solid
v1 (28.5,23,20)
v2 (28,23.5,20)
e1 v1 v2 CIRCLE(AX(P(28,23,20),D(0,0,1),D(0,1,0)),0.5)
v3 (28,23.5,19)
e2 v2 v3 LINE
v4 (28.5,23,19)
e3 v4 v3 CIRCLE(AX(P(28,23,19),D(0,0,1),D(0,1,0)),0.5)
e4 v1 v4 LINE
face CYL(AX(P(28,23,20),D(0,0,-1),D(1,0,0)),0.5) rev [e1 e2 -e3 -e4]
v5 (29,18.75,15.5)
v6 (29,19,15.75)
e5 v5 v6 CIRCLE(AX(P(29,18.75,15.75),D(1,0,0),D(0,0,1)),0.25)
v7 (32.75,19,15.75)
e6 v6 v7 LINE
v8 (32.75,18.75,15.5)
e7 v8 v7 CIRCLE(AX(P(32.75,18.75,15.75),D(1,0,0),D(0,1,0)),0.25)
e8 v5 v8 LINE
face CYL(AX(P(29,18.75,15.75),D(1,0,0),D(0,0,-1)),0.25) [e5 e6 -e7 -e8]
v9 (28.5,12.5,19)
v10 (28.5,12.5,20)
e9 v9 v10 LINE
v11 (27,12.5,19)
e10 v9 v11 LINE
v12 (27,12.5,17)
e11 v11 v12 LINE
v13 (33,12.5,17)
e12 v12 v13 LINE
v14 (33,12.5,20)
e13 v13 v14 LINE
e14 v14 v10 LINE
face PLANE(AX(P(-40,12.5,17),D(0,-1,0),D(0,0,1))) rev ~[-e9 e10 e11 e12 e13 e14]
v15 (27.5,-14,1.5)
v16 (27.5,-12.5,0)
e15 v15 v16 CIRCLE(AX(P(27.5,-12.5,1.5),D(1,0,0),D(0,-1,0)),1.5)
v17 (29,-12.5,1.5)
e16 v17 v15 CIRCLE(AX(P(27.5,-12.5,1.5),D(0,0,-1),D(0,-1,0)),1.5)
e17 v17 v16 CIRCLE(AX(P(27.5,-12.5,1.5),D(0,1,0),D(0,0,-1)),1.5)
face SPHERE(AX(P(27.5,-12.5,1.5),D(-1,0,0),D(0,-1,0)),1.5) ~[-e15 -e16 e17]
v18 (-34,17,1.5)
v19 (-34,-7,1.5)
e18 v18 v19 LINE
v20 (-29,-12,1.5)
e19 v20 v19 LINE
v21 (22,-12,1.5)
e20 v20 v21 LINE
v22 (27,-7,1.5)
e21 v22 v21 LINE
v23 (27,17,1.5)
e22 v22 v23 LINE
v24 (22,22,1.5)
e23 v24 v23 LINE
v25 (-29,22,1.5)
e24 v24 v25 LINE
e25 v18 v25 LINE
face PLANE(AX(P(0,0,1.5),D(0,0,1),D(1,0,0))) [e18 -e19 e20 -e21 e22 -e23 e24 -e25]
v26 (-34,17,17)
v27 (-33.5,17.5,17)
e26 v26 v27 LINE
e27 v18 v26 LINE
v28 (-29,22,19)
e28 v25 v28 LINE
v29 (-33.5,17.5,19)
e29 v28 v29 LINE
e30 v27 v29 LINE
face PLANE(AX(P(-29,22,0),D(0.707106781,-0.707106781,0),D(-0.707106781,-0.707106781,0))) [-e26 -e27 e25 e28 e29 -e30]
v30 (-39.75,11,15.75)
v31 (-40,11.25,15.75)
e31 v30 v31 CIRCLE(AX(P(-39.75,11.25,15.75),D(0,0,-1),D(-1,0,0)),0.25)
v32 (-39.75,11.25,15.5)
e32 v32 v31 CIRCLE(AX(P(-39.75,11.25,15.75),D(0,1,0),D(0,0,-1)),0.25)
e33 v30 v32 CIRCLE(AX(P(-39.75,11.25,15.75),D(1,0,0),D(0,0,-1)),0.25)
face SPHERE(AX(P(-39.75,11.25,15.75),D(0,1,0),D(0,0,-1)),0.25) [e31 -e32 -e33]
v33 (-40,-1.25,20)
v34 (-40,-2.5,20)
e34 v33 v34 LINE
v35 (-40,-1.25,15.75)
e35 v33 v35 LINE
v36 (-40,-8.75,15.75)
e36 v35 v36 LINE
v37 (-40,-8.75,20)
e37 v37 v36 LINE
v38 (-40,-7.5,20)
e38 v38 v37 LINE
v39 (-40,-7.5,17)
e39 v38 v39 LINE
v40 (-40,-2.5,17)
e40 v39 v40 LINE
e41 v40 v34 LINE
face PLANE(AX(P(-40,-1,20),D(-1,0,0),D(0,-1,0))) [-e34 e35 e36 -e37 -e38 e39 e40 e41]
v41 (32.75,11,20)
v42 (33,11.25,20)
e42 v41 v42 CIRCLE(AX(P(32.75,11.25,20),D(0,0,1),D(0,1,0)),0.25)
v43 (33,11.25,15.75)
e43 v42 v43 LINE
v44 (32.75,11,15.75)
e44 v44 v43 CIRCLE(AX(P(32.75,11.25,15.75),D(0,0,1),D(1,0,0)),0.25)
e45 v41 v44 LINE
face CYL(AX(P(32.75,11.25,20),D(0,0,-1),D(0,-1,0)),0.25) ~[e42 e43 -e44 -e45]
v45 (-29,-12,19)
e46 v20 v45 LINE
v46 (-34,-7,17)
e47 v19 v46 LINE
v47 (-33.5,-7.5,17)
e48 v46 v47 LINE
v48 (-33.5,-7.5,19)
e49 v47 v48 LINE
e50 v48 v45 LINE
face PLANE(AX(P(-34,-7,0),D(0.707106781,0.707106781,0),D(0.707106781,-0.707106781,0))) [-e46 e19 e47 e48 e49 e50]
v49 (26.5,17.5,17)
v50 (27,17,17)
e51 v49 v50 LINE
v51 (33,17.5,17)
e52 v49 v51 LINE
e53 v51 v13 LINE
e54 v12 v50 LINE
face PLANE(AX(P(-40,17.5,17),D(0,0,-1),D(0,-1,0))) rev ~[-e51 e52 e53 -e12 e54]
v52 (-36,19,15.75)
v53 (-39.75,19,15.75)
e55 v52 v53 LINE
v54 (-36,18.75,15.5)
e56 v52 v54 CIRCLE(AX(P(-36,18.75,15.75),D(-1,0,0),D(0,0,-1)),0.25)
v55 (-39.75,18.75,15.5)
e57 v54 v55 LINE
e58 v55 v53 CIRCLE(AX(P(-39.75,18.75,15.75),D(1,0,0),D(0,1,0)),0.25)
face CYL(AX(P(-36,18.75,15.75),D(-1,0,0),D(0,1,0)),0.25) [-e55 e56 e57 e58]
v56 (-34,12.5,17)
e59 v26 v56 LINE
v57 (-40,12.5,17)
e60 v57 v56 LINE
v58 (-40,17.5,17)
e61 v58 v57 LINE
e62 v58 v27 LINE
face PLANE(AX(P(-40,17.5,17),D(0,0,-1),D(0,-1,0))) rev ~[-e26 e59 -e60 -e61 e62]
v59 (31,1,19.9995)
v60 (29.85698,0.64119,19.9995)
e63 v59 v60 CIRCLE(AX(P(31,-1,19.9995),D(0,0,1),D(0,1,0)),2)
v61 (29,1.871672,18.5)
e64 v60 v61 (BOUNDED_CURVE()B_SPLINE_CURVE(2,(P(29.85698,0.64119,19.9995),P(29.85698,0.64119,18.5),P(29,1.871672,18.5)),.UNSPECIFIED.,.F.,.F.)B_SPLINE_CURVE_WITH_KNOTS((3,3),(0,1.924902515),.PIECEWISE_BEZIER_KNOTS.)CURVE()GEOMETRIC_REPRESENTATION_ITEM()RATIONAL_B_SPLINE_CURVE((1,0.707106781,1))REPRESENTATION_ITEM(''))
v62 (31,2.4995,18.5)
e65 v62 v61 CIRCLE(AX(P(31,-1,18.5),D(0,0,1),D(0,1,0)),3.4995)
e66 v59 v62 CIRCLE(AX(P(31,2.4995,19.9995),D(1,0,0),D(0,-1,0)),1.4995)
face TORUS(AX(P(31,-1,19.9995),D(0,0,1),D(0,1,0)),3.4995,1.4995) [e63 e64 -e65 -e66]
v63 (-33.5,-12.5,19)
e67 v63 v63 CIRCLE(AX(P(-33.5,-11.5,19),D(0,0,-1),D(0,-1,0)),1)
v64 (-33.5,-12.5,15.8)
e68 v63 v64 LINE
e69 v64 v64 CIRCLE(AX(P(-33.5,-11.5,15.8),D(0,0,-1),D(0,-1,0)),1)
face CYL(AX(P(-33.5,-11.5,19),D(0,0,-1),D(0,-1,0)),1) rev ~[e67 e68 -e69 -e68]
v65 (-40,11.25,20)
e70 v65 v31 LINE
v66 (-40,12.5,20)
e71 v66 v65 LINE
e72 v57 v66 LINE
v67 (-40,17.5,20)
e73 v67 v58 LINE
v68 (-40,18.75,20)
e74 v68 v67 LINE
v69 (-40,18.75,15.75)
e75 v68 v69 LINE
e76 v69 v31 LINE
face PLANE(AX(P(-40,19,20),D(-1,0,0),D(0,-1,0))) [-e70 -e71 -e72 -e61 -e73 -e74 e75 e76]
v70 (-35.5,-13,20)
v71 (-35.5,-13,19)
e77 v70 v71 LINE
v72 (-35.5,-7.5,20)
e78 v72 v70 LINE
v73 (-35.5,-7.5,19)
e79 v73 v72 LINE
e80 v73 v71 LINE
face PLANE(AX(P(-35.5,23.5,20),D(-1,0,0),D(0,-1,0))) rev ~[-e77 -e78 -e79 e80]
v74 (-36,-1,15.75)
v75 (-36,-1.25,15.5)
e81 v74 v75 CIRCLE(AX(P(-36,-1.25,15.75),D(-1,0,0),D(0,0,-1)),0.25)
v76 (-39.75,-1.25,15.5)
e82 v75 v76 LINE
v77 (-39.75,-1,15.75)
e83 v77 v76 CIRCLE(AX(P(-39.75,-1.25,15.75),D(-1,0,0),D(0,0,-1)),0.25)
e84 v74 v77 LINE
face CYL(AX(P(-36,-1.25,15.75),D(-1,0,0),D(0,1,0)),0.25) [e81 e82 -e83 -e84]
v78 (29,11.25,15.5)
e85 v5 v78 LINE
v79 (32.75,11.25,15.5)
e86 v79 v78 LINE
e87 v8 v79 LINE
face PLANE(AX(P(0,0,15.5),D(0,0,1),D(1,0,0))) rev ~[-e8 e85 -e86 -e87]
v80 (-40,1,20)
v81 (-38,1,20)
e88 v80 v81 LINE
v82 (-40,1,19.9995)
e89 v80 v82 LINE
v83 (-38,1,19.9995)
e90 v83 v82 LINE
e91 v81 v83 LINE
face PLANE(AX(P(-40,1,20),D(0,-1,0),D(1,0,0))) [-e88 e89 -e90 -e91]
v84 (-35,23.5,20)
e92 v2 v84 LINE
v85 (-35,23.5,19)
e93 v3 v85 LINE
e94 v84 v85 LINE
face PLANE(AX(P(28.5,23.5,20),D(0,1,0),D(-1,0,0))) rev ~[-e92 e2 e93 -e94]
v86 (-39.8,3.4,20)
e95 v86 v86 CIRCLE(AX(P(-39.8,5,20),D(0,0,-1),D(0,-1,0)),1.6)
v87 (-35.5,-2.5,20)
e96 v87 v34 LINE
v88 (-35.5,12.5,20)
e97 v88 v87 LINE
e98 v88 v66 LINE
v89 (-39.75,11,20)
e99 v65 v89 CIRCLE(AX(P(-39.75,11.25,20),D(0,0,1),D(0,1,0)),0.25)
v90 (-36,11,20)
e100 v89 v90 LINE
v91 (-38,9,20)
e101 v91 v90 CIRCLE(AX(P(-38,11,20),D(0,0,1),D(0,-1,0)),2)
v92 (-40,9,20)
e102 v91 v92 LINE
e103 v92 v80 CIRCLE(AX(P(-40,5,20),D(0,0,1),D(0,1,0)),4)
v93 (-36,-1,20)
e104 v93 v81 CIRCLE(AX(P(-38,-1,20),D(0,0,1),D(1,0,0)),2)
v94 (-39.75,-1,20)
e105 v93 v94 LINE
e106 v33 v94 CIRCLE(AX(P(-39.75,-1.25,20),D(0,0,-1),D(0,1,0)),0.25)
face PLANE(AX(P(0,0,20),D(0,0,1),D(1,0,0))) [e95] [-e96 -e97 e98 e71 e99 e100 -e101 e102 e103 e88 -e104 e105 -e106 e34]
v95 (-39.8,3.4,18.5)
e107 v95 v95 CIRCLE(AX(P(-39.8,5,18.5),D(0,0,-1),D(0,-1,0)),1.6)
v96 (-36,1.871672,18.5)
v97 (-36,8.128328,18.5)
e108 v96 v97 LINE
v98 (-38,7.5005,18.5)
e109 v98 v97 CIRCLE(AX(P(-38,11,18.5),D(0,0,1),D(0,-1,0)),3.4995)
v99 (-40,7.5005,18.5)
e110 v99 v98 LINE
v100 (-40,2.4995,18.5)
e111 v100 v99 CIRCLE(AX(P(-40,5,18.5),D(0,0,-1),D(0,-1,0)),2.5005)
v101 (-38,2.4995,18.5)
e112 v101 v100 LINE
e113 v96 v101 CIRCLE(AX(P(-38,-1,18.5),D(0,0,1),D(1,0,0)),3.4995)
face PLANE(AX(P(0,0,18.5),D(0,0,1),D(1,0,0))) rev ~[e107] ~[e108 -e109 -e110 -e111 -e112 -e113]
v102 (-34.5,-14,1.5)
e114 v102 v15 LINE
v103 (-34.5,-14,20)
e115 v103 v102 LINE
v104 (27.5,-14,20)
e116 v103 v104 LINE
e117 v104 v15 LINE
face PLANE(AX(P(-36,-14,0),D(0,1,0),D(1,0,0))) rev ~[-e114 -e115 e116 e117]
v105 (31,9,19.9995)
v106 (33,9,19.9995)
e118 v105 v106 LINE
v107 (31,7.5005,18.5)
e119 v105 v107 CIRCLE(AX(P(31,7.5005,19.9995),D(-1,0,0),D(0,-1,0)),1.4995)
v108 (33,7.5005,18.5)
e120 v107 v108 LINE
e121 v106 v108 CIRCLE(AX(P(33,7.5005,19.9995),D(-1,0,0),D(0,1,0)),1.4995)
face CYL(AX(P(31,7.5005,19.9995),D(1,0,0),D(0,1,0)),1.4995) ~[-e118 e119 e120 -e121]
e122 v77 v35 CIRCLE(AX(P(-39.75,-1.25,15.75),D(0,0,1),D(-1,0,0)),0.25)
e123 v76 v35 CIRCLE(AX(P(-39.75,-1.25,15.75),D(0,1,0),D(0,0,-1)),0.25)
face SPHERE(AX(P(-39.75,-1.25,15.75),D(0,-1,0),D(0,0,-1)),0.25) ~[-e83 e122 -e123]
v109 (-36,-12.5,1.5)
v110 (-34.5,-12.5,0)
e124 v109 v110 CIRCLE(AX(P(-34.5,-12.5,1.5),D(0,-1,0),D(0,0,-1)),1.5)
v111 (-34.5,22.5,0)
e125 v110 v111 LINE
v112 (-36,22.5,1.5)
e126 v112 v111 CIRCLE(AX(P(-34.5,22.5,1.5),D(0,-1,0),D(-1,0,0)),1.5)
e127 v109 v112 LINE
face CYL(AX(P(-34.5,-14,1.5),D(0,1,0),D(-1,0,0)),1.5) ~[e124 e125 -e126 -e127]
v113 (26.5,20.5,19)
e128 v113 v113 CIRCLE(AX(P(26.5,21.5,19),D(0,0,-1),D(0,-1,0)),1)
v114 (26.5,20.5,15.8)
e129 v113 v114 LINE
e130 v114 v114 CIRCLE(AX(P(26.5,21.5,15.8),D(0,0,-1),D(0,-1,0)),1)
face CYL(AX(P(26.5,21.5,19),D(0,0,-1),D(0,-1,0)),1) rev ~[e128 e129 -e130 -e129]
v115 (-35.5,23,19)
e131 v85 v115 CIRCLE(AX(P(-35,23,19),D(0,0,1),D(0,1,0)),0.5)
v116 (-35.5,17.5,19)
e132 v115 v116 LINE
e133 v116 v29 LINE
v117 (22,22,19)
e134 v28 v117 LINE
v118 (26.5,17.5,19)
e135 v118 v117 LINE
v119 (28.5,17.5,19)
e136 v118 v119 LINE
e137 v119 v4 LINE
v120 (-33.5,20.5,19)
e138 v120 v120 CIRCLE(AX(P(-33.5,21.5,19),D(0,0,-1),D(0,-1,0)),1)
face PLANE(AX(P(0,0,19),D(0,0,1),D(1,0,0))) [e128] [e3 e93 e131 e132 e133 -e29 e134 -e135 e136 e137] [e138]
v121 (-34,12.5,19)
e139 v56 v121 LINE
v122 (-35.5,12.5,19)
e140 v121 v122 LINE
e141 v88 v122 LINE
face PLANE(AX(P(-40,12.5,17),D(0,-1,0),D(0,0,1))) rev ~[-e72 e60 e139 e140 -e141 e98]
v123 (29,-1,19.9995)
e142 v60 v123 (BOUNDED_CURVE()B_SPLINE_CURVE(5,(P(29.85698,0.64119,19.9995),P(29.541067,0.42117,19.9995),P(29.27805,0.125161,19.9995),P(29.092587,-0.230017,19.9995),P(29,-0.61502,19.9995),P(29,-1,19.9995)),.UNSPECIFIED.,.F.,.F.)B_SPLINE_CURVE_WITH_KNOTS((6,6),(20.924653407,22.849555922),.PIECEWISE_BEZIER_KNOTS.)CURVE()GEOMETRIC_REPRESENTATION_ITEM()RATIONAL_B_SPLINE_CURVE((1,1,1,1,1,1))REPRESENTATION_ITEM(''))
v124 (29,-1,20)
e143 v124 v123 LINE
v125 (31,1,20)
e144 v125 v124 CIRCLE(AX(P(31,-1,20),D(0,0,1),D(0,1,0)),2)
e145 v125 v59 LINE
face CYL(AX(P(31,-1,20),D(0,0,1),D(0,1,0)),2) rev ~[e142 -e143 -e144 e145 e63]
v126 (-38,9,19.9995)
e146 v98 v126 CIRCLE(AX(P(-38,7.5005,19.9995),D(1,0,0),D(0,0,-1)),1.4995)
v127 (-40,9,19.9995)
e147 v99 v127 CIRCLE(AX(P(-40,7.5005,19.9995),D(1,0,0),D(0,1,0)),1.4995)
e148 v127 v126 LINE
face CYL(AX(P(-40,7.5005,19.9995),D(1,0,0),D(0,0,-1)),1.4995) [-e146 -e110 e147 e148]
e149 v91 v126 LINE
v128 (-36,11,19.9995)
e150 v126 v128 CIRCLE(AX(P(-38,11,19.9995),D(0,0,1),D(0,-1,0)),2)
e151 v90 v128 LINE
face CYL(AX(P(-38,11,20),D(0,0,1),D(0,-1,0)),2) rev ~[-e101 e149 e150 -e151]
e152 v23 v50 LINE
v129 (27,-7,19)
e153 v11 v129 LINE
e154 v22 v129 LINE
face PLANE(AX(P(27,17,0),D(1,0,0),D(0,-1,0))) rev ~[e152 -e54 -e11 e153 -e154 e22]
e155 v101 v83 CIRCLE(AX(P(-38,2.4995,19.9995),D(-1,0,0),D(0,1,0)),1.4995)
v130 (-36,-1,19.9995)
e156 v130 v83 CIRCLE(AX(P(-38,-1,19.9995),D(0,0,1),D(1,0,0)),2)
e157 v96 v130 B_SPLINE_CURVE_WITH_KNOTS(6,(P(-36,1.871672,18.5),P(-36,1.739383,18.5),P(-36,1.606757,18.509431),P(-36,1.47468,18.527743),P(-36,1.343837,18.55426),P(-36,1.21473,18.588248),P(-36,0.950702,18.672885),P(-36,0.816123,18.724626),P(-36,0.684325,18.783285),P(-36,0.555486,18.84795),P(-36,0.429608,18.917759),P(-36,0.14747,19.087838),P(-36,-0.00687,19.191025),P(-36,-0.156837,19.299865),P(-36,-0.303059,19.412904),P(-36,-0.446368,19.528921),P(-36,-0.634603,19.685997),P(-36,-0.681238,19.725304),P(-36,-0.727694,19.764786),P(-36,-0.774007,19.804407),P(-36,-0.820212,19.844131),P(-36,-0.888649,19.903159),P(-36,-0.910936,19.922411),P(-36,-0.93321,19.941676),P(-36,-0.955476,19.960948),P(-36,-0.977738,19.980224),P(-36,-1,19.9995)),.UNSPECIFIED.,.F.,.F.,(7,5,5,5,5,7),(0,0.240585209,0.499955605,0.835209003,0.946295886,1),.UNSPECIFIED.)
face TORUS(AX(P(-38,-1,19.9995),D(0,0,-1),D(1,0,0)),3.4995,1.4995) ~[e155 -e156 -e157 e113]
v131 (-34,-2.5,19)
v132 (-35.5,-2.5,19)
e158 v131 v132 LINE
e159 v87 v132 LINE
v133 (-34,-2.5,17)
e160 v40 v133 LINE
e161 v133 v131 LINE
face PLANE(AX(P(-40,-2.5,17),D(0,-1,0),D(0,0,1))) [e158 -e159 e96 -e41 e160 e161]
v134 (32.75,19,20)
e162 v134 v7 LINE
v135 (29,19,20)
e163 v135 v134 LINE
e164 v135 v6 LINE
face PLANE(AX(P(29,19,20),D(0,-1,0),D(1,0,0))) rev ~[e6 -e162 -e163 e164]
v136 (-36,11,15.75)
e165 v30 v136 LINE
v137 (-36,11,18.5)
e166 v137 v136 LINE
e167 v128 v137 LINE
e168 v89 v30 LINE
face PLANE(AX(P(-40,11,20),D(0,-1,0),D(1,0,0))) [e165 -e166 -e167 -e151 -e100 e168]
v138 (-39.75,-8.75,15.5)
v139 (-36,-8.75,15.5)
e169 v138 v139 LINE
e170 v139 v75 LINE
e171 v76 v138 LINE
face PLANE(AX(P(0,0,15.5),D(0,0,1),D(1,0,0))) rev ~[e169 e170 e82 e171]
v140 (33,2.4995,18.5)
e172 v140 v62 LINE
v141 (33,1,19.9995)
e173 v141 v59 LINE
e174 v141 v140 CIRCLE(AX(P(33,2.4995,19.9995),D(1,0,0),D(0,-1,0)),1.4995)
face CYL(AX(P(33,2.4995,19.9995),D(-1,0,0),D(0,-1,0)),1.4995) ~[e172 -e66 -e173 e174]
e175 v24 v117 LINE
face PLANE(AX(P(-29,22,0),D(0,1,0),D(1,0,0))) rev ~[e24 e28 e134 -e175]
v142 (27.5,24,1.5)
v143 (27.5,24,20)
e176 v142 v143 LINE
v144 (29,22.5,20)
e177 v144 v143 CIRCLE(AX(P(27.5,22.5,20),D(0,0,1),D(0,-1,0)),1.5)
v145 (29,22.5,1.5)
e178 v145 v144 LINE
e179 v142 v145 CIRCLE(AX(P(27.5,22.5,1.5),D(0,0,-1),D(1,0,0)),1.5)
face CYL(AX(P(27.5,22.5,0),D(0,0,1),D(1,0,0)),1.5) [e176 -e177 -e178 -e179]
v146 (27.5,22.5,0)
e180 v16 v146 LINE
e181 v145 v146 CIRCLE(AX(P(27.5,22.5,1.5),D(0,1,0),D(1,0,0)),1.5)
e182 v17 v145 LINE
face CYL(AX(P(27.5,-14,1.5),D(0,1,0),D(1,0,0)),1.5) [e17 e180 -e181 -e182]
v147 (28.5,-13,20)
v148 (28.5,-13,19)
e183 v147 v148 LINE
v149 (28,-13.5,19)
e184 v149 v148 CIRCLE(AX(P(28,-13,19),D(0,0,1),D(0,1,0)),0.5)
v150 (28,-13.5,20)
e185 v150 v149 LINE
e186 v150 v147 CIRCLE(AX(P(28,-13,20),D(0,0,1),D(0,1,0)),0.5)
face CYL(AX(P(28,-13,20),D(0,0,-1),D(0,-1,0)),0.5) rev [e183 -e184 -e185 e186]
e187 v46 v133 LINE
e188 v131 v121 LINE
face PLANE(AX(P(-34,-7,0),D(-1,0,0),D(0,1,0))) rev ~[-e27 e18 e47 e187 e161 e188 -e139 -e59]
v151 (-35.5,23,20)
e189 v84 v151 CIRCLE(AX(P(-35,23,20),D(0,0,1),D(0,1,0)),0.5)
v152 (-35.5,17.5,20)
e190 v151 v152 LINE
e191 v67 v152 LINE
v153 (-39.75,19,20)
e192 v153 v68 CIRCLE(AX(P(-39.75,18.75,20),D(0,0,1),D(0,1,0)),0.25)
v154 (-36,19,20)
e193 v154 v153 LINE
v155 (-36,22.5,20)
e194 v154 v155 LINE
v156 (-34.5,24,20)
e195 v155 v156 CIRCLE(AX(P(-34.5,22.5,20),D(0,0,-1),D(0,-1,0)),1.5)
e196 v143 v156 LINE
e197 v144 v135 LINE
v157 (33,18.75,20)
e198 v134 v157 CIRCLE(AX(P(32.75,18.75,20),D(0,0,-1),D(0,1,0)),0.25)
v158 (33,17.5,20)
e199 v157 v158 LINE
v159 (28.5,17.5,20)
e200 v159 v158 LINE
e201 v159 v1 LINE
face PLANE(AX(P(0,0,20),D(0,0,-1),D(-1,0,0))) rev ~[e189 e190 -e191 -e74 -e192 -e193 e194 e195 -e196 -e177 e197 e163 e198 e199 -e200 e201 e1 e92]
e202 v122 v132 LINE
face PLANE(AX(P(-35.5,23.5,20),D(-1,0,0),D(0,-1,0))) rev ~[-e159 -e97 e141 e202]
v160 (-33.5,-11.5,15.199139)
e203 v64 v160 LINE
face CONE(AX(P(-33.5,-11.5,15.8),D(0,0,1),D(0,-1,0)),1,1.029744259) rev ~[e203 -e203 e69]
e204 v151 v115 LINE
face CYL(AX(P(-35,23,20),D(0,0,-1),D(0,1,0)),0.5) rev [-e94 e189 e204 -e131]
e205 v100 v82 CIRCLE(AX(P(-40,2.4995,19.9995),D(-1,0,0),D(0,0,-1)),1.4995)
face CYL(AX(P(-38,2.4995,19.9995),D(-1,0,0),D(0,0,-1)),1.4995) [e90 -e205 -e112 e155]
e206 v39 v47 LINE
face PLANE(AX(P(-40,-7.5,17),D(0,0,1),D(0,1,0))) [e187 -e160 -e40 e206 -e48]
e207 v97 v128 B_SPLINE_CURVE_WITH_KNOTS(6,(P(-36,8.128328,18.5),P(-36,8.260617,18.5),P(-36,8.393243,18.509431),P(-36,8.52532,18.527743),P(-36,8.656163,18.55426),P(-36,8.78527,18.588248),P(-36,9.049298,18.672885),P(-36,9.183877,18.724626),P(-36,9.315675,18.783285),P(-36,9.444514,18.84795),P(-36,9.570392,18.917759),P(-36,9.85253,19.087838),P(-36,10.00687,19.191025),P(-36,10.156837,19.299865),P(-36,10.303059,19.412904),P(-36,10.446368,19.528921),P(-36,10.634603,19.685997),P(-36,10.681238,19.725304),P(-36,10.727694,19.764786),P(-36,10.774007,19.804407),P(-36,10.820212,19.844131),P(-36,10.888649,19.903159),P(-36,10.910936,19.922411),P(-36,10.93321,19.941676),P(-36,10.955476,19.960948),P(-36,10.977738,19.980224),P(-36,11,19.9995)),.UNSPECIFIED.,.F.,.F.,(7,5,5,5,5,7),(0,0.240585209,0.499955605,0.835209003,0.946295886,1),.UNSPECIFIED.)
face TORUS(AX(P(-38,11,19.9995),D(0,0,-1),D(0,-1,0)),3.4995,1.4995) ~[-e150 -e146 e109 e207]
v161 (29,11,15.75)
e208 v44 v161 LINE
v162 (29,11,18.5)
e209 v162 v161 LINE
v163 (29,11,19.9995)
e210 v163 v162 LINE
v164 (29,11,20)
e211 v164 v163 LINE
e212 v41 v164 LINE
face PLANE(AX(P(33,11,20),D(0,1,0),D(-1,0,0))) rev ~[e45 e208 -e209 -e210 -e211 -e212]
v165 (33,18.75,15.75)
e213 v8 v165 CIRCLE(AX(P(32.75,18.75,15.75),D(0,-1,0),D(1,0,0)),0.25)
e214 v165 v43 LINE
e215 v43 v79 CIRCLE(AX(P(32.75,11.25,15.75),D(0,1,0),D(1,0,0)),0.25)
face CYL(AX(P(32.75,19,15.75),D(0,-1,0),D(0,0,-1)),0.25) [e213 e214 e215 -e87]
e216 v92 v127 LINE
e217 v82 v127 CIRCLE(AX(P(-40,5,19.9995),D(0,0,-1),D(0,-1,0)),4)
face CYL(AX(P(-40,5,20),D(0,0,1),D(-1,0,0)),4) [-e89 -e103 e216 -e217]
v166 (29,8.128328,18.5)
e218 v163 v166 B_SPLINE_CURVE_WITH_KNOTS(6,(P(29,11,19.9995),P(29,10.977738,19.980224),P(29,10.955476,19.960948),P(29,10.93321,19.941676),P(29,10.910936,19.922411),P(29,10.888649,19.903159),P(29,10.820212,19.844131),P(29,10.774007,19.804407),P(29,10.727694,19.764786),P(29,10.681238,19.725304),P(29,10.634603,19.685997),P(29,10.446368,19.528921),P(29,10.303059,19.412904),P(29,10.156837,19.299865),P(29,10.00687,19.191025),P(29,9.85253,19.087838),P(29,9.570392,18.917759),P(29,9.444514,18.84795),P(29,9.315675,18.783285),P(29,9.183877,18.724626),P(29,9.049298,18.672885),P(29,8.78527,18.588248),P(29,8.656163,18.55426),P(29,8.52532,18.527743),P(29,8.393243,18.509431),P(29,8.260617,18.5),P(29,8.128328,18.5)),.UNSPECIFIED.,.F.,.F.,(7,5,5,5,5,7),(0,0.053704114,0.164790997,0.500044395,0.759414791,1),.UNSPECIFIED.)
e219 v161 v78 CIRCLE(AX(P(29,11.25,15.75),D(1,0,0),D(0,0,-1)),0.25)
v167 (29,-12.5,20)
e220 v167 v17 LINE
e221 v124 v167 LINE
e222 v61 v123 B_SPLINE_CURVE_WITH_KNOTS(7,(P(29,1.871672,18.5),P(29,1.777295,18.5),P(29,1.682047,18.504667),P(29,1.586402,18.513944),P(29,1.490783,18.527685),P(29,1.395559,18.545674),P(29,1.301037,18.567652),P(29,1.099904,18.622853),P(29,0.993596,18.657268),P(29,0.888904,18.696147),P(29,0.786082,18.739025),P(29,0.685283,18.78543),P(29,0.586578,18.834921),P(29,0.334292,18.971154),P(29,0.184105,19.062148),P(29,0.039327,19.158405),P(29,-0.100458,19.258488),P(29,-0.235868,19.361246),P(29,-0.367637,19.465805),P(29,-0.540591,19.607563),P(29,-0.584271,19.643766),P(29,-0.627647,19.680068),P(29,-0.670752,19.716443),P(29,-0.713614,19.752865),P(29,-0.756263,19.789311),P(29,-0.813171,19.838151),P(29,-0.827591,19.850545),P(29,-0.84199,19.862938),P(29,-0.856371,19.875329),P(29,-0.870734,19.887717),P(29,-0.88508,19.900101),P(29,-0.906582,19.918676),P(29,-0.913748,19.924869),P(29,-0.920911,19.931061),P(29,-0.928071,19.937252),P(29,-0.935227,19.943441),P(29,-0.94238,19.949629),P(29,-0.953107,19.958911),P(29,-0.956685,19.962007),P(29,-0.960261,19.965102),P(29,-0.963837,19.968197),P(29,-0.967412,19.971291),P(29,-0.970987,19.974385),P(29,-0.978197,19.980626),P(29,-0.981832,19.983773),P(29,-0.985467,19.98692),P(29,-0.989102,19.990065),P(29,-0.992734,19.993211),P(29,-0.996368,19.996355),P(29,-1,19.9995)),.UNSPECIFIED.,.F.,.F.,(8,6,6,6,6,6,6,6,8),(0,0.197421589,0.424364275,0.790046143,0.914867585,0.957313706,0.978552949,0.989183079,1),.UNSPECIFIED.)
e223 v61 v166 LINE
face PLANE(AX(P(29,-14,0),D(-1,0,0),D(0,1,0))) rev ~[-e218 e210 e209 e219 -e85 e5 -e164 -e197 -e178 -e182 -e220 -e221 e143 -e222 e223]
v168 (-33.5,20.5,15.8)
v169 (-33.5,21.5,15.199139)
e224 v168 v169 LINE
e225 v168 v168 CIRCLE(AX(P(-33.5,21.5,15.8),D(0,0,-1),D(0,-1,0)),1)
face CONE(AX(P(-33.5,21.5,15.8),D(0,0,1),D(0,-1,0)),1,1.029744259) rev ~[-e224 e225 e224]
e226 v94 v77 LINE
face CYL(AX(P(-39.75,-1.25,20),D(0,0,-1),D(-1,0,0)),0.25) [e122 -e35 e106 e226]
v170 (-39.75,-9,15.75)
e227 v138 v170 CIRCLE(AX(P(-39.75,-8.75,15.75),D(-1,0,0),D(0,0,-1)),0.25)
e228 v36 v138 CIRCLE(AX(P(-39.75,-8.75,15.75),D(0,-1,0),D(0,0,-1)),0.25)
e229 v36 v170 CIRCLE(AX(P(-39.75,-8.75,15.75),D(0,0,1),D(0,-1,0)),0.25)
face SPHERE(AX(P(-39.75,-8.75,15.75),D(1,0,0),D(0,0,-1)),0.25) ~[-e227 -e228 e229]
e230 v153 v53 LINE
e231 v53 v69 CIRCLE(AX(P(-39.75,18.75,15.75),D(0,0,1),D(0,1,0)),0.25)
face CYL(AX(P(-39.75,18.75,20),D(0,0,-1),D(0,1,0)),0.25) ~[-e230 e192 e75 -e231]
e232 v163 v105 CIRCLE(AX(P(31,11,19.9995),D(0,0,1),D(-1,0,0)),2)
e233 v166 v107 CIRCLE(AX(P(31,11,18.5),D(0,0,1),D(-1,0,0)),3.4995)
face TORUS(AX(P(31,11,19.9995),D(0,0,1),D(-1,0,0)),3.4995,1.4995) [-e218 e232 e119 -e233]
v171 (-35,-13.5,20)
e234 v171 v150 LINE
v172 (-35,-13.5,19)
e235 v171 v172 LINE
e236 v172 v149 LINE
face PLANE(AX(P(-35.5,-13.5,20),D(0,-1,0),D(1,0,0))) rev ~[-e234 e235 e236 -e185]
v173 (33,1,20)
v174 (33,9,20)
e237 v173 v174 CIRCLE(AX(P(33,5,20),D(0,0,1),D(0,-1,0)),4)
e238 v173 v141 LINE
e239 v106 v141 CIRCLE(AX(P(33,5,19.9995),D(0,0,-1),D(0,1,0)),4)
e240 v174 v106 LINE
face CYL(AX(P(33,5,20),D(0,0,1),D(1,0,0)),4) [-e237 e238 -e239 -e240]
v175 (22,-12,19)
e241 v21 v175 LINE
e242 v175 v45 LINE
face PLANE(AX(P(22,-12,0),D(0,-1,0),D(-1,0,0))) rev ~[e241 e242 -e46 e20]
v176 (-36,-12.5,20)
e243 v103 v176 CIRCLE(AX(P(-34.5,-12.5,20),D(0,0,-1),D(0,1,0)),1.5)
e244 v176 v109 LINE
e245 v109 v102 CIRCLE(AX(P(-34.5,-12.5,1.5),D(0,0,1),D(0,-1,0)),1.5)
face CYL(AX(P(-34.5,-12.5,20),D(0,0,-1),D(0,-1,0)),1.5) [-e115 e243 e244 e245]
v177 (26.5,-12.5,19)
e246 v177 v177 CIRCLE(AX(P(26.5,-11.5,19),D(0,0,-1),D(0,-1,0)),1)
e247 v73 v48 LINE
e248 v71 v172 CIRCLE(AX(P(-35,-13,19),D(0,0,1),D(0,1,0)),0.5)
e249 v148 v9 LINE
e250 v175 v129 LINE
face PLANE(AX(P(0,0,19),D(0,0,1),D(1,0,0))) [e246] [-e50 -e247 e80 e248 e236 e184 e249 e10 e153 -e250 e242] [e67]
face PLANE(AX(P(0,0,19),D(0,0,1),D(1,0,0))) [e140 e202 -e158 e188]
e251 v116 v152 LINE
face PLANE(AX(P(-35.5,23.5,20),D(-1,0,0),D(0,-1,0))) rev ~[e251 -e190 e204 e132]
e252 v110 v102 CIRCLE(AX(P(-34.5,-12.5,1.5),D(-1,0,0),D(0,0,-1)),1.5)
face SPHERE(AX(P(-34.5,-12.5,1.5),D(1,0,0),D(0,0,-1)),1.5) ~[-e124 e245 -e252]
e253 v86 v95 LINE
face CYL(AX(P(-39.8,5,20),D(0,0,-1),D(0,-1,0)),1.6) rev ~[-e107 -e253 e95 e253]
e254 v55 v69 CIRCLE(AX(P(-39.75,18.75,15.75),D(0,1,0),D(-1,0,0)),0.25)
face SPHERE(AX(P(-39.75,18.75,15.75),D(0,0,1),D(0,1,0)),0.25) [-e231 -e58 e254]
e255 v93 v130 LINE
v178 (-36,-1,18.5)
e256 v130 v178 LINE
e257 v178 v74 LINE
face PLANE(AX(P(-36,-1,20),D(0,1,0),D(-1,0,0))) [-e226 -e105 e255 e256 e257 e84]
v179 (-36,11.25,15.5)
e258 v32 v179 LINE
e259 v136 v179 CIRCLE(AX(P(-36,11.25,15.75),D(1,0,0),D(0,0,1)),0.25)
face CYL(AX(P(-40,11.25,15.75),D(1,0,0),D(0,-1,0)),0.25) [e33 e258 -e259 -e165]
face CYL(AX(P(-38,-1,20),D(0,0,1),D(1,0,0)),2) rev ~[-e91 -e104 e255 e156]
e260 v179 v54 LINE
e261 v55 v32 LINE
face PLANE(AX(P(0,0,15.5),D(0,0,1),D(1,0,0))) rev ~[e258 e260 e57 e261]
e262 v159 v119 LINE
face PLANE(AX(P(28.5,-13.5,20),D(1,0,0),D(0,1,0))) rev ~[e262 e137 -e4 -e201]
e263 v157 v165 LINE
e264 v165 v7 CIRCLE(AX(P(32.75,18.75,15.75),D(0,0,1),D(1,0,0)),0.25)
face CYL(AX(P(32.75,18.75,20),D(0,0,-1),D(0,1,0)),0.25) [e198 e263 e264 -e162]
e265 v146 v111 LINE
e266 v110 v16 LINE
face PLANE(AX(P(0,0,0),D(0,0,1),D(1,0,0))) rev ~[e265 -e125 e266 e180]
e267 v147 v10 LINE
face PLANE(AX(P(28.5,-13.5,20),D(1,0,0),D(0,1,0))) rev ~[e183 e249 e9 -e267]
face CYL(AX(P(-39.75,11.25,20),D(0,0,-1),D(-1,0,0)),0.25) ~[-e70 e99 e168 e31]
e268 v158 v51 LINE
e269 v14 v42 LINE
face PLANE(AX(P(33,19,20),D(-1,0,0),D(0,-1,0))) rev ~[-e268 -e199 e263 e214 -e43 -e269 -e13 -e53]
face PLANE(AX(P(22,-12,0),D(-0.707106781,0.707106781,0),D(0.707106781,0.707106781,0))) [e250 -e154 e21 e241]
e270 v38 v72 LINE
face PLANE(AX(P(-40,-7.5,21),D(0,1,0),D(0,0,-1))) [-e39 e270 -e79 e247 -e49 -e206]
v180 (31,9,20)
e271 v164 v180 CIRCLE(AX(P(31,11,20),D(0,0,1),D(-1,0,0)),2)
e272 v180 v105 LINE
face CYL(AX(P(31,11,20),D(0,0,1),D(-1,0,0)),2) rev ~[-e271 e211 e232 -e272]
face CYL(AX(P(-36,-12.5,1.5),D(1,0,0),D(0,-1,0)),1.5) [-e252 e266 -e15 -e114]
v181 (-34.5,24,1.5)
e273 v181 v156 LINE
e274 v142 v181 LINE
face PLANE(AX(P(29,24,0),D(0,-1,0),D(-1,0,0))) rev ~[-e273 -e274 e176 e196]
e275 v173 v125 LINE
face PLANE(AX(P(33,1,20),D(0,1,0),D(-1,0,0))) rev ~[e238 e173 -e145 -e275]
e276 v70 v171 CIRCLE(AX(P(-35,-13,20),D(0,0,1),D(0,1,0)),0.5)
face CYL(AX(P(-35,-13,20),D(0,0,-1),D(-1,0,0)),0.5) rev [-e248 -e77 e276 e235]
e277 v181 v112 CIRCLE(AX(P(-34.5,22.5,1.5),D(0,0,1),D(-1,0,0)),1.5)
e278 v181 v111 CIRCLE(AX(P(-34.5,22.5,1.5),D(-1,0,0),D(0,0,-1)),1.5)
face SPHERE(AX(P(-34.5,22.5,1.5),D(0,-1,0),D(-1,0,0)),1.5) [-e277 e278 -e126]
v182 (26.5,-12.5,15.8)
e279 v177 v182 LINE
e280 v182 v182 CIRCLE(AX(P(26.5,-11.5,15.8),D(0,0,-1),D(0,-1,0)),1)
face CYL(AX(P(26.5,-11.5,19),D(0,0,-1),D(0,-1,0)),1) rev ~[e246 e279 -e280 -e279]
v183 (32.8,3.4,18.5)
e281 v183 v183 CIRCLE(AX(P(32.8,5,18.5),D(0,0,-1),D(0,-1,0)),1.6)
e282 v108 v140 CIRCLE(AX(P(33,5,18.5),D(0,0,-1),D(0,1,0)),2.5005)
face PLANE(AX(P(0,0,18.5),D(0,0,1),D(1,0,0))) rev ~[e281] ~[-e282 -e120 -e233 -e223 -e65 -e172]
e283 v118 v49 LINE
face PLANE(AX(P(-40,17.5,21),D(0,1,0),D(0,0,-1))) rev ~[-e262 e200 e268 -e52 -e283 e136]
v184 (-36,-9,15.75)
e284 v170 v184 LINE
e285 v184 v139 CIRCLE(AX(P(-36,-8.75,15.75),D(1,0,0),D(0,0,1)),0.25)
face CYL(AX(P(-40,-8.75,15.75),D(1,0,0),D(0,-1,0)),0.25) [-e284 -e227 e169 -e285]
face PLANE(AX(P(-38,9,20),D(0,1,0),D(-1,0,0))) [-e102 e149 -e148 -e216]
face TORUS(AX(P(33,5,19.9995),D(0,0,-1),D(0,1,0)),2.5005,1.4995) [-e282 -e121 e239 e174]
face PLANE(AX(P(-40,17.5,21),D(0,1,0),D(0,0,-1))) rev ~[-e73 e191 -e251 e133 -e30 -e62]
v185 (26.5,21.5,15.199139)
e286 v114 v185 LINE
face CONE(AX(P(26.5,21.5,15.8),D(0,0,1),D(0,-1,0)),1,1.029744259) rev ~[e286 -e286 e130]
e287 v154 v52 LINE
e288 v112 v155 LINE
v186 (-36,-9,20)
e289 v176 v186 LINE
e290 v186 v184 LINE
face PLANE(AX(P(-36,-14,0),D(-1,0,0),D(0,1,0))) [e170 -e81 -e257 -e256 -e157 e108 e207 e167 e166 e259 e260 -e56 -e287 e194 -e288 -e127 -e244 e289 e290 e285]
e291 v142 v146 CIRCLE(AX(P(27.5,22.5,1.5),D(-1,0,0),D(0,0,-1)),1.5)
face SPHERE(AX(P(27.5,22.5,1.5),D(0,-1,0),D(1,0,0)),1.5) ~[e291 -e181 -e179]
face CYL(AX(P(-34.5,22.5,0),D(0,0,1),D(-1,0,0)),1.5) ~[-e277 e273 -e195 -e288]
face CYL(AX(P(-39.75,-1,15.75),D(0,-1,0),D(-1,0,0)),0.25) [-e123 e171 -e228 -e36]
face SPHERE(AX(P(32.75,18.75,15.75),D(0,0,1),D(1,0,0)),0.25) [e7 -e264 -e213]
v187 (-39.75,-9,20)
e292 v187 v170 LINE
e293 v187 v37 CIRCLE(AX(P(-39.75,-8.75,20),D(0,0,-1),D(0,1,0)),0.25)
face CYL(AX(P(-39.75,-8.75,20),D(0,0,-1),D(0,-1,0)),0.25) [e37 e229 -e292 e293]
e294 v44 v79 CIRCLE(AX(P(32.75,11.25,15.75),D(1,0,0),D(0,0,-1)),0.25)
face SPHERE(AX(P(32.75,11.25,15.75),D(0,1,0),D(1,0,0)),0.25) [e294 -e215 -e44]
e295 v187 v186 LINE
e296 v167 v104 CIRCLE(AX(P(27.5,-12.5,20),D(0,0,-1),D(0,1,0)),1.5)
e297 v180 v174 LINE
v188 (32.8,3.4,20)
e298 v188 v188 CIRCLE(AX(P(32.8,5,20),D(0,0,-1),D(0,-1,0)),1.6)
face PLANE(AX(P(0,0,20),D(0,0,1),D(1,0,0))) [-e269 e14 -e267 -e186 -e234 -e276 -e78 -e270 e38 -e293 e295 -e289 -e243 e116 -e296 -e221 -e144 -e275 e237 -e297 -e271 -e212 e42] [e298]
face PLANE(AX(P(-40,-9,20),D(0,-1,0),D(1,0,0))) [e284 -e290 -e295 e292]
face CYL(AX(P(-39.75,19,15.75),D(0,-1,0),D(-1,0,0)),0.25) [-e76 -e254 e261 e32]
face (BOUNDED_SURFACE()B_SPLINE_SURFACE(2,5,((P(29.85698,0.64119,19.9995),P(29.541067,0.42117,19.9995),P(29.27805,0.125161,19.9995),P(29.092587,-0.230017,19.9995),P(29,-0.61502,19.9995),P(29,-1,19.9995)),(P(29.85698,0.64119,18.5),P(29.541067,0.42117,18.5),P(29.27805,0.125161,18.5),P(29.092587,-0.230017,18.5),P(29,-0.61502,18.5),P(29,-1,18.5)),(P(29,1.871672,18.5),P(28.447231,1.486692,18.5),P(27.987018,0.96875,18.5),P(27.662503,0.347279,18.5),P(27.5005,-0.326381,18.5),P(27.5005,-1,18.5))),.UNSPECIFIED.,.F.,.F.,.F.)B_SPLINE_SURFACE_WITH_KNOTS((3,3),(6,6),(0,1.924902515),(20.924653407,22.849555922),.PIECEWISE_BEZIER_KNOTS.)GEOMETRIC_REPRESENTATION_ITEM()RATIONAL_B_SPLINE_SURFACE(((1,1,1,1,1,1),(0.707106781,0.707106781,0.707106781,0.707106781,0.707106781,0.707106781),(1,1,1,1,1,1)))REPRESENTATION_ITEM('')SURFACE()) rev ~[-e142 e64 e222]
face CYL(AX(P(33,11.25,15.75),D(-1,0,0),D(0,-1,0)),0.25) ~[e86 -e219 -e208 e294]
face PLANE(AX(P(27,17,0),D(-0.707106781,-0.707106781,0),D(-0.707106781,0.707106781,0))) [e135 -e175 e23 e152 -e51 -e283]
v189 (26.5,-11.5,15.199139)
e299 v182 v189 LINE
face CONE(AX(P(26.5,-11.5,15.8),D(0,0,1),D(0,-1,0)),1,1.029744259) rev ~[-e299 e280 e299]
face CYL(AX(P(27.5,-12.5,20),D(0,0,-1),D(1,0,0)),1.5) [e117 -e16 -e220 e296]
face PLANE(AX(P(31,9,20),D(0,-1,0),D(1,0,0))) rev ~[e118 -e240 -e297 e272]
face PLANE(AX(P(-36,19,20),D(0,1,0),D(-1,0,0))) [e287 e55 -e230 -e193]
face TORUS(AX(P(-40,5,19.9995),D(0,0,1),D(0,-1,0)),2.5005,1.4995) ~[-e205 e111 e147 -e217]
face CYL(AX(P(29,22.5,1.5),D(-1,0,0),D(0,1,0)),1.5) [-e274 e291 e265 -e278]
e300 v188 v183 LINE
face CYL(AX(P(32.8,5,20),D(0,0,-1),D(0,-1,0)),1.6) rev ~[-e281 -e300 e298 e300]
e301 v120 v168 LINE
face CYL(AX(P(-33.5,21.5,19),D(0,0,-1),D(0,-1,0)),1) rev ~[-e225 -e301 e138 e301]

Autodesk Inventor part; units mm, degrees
ref_plane "YZ Plane" through (0, 0, 0) normal (1, 0, 0) x (0, 1, 0)
ref_plane "XZ Plane" through (0, 0, 0) normal (0, 1, 0) x (-1, 0, 0)
ref_plane "XY Plane" through (0, 0, 0) normal (0, 0, 1) x (1, 0, 0)
sketch "Эскиз1" plane through (0, 0, 0) normal (0, 0, 1) x (1, 0, 0)
  line L0 (29, 24) -> (-36, 24)
  line L1 (-36, -14) -> (29, -14)
  line L2 (29, -14) -> (29, 24)
  line L3 (-36, -14) -> (-36, 24)
  dimension "d0" = 65
  dimension "d1" = 65
extrude "Выдавливание1" add sketch "Эскиз1" along normal blind 1.5
sketch "Эскиз7" plane through (0, 0, 0) normal (0, 0, -1) x (-1, 0, 0)
  line L0 (-29, 24) -> (36, 24) projected
  line L1 (36, -14) -> (-29, -14) projected
  line L2 (-29, -14) -> (36, -14)
  line L3 (36, -14) -> (36, 24)
  line L4 (36, 24) -> (-29, 24)
  line L5 (-29, 24) -> (-29, -14)
  line L6 (-22, -12) -> (29, -12)
  line L7 (34, -7) -> (34, 17)
  line L8 (29, 22) -> (-22, 22)
  line L9 (-27, 17) -> (-27, -7)
  line L10 (-27, 17) -> (-22, 22)
  line L11 (29, 22) -> (34, 17)
  line L12 (34, -7) -> (29, -12)
  line L13 (-22, -12) -> (-27, -7)
  point P0 (36, -9)
  point P1 (-27, -12)
  point P2 (34, 22)
  point P3 (34, -12)
  point P4 (-27, 22)
  dimension "d77" = 2
  dimension "d78" = 2
  dimension "d79" = 2
  dimension "d80" = 2
  dimension "d81" = 5
  dimension "d82" = 45
  dimension "d83" = 5
  dimension "d84" = 45
  dimension "d85" = 5
  dimension "d86" = 45
  dimension "d87" = 5
  dimension "d88" = 45
extrude "Выдавливание5" add sketch "Эскиз7" against normal blind 20
sketch "Эскиз10" plane through (0, 0, 1.5) normal (0, 0, 1) x (1, 0, 0)
  line L0 (27, -7) -> (27, 17) projected
  line L1 (27, 17) -> (22, 22) projected
  line L2 (22, 22) -> (-29, 22) projected
  line L3 (-29, 22) -> (-34, 17) projected
  line L4 (-34, 17) -> (-34, -7) projected
  line L5 (-34, -7) -> (-29, -12) projected
  line L6 (-29, -12) -> (22, -12) projected
  line L7 (22, -12) -> (27, -7) projected
sketch "Эскиз12" plane through (0, 0, 20) normal (0, 0, 1) x (1, 0, 0)
  line L0 (29, 24) -> (29, -14) projected
  line L1 (-36, -14) -> (-36, 24) projected
  line L2 (29, -14) -> (-36, -14) projected
  line L3 (-36, 19) -> (-40, 19)
  line L4 (-40, 19) -> (-40, 11)
  line L5 (-40, 11) -> (-36, 11)
  line L6 (-36, 11) -> (-36, 19)
  line L7 (-36, -1) -> (-40, -1)
  line L8 (-40, -1) -> (-40, -9)
  line L9 (-40, -9) -> (-36, -9)
  line L10 (-36, -1) -> (-36, -9)
  line L11 (29, 19) -> (33, 19)
  line L12 (33, 19) -> (33, 11)
  line L13 (33, 11) -> (29, 11)
  line L14 (29, 11) -> (29, 19)
extrude "Выдавливание8" add sketch "Эскиз12" against normal blind 4.5
sketch "Эскиз13" plane through (-40, 11, 20) normal (-1, 0, 0) x (0, 0, 1)
  line L0 (-4.5, 8) -> (-4.5, 0) projected
  line L1 (0, 0) -> (-4.5, 0) projected
  line L2 (0, 8) -> (-4.5, 8) projected
  line L3 (-3, 1.5) -> (1, 1.5)
  line L4 (1, 1.5) -> (1, 6.5)
  line L5 (1, 6.5) -> (-3, 6.5)
  line L6 (-3, 6.5) -> (-3, 1.5)
  dimension "d100" = 1.5
  dimension "d101" = 1.5
  dimension "d102" = 1.5
extrude "Выдавливание9" cut sketch "Эскиз13" against normal through all
sketch "Эскиз14" plane through (-40, -9, 20) normal (-1, 0, 0) x (0, 0, 1)
  line L0 (-4.5, 8) -> (-4.5, 0) projected
  line L1 (0, 0) -> (-4.5, 0) projected
  line L2 (0, 8) -> (-4.5, 8) projected
  line L3 (-3, 6.5) -> (1, 6.5)
  line L4 (1, 6.5) -> (1, 1.5)
  line L5 (1, 1.5) -> (-3, 1.5)
  line L6 (-3, 1.5) -> (-3, 6.5)
  dimension "d105" = 1.5
  dimension "d106" = 1.5
  dimension "d107" = 1.5
extrude "Выдавливание10" cut sketch "Эскиз14" against normal blind 10
sketch "Эскиз15" plane through (0, 0, 1.5) normal (0, 0, 1) x (1, 0, 0)
  line L0 (27, -7) -> (27, 17) projected
  line L1 (27, 17) -> (22, 22) projected
  line L2 (22, 22) -> (-29, 22) projected
  line L3 (-29, 22) -> (-34, 17) projected
  line L4 (-34, 17) -> (-34, -7) projected
  line L5 (-34, -7) -> (-29, -12) projected
  line L6 (-29, -12) -> (22, -12) projected
  line L7 (22, -12) -> (27, -7) projected
  line L8 (-43.8933, 5) -> (-43.8933, 5)
  line L9 (-36, 11) -> (-36, 11)
  line L10 (-36, -1) -> (-36, -1)
sketch "Эскиз16" plane through (0, 0, 20) normal (0, 0, 1) x (1, 0, 0)
  line L0 (-36, -1) -> (-36, 11) projected
  line L1 (-40, -1) -> (-40, -2.5) projected
  line L2 (-38, 9) -> (-40, 9)
  line L3 (-44, 5) -> (-44, 5)
  line L4 (-40, 1) -> (-38, 1)
  line L5 (-36, 11) -> (-36, 11)
  arc A0 (-40, 9) -> (-44, 5) centre (-40, 5) ccw
  arc A1 (-44, 5) -> (-40, 1) centre (-40, 5) ccw
  arc A2 (-38, 9) -> (-36, 11) centre (-38, 11) ccw
  line L6 (-36, -1) -> (-36, -1)
  arc A3 (-36, -1) -> (-38, 1) centre (-38, -1) ccw
  point P0 (-36, 9)
  point P1 (-36, 1)
  dimension "d113" = 4
  dimension "d114" = 2
  dimension "d115" = 2
sketch "Эскиз17" plane through (0, 0, 20) normal (0, 0, 1) x (1, 0, 0)
  line L0 (29, 11) -> (29, -14) projected
  line L1 (22, -12) -> (-29, -12) projected
  line L2 (31, 9) -> (33, 9)
  line L3 (37, 5) -> (37, 5)
  line L4 (33, 1) -> (31, 1)
  line L5 (29, 11) -> (29, 11)
  line L6 (29, -1) -> (29, -1)
  line L7 (29, 1) -> (29, 9)
  arc A0 (37, 5) -> (33, 9) centre (33, 5) ccw
  arc A1 (33, 1) -> (37, 5) centre (33, 5) ccw
  arc A2 (29, 11) -> (31, 9) centre (31, 11) ccw
  arc A3 (31, 1) -> (29, -1) centre (31, -1) ccw
  dimension "d116" = 4
  dimension "d117" = 2
  dimension "d118" = 2
extrude "Выдавливание11" add sketch "Эскиз16" against normal blind 1.5
extrude "Выдавливание12" add sketch "Эскиз17" against normal blind 1.5
sketch "Эскиз18" plane through (0, 0, 1.5) normal (0, 0, 1) x (1, 0, 0)
  line L0 (27, -7) -> (27, 17) projected
  line L1 (27, 17) -> (22, 22) projected
  line L2 (22, 22) -> (-29, 22) projected
  line L3 (-29, 22) -> (-34, 17) projected
  line L4 (-34, 17) -> (-34, -7) projected
  line L5 (-34, -7) -> (-29, -12) projected
  line L6 (-29, -12) -> (22, -12) projected
  line L7 (22, -12) -> (27, -7) projected
sketch "Эскиз19" plane through (0, 0, 20) normal (0, 0, 1) x (1, 0, 0)
  line L0 (29, 24) -> (29, 19) projected
  line L1 (-36, 24) -> (29, 24) projected
  line L2 (-36, 19) -> (-36, 24) projected
  line L3 (-35.5, -13.5) -> (28.5, -13.5)
  line L4 (28.5, -13.5) -> (28.5, 23.5)
  line L5 (28.5, 23.5) -> (-35.5, 23.5)
  line L6 (-35.5, 23.5) -> (-35.5, -13.5)
  line L7 (29, -14) -> (-36, -14) projected
  dimension "d123" = 0.5
  dimension "d124" = 0.5
  dimension "d125" = 0.5
  dimension "d126" = 0.5
extrude "Выдавливание13" cut sketch "Эскиз19" against normal blind 1
sketch "Эскиз20" plane through (0, 0, 20) normal (0, 0, 1) x (1, 0, 0)
  arc A0 (-40, 9) -> (-40, 1) centre (-40, 5) ccw projected
  line L0 (-40, -2.5) -> (-35.5, -2.5) projected
  line L1 (-40, 5) -> (33, 5) construction
  point P0 (-39.8, 5)
  point P1 (32.8, 5)
  dimension "d129" = 0.2
  dimension "d130" = 72.6
hole "Отверстие1" at (-39.8, 5, 20) at (32.8, 5, 20) direction (0, 0, -1) diameter 3.2 end through all
sketch "Эскиз21" plane through (0, 0, 19) normal (0, 0, 1) x (1, 0, 0)
  line L0 (-33.5, -11.5) -> (26.5, -11.5) construction
  line L1 (26.5, -11.5) -> (26.5, 21.5) construction
  line L2 (26.5, 21.5) -> (-33.5, 21.5) construction
  line L3 (-33.5, 21.5) -> (-33.5, -11.5) construction
  line L4 (-36, 19) -> (-36, 24) construction
  line L5 (-36, 24) -> (29, 24) construction
  dimension "d138" = 60
  dimension "d139" = 33
  dimension "d140" = 2.5
  dimension "d141" = 2.5
hole "Отверстие2" at (-33.5, 21.5, 19) at (-33.5, -11.5, 19) at (26.5, 21.5, 19) at (26.5, -11.5, 19) direction (0, 0, -1) diameter 2 depth 3.2 tip angle 118
fillet "Сопряжение4" radius 1.5 8 edges at (-3.5, -14, 0) (-36, 5, 0) (-36, -14, 10) (-36, 24, 10) (29, -14, 10) (29, 5, 0) (29, 24, 10) (-3.5, 24, 0)
fillet "Сопряжение5" radius 1.5 10 edges at (37, 5, 18.5) (32, 9, 18.5) (29.5858, 9.5858, 18.5) (32, 1, 18.5) (29.5858, 0.4142, 18.5) (-44, 5, 18.5) (-39, 1, 18.5) (-36.5858, 0.4142, 18.5) (-39, 9, 18.5) (-36.5858, 9.5858, 18.5)
fillet "Сопряжение6" radius 0.25 15 edges at (-38, -9, 15.5) (-40, -5, 15.5) (-38, -1, 15.5) (-40, -9, 17.75) (-40, -1, 17.75) (-40, 19, 17.75) (-38, 19, 15.5) (-40, 15, 15.5) (-38, 11, 15.5) (-40, 11, 17.75) (33, 19, 17.75) (33, 15, 15.5) (33, 11, 17.75) (31, 11, 15.5) (31, 19, 15.5)
fillet "Сопряжение7" radius 0.5 4 edges at (28.5, 23.5, 19.5) (28.5, -13.5, 19.5) (-35.5, 23.5, 19.5) (-35.5, -13.5, 19.5)
equation "\"d83\" = d81"
equation "\"d84\" = d82"
equation "\"d85\" = d81"
equation "\"d86\" = d82"
equation "\"d87\" = d81"
equation "\"d88\" = d82"
equation "\"Радиус_гибки\" = Толщина"
equation "\"Ширина_просечки\" = Толщина"
equation "\"Глубина_просечки\" = 0.5 * Толщина"
equation "\"Размер_высечки\" = 4 * Толщина"
equation "\"Мин_остаток\" = 2 * Толщина"
equation "\"Радиус_перехода\" = Радиус_гибки"
equation "\"Радиус_Якоби\" = Радиус_гибки"
equation "\"Размер_зазора\" = Толщина"
equation "\"Толщина\" = 0.5"
properties part number "корпус" material "По умолчанию"
